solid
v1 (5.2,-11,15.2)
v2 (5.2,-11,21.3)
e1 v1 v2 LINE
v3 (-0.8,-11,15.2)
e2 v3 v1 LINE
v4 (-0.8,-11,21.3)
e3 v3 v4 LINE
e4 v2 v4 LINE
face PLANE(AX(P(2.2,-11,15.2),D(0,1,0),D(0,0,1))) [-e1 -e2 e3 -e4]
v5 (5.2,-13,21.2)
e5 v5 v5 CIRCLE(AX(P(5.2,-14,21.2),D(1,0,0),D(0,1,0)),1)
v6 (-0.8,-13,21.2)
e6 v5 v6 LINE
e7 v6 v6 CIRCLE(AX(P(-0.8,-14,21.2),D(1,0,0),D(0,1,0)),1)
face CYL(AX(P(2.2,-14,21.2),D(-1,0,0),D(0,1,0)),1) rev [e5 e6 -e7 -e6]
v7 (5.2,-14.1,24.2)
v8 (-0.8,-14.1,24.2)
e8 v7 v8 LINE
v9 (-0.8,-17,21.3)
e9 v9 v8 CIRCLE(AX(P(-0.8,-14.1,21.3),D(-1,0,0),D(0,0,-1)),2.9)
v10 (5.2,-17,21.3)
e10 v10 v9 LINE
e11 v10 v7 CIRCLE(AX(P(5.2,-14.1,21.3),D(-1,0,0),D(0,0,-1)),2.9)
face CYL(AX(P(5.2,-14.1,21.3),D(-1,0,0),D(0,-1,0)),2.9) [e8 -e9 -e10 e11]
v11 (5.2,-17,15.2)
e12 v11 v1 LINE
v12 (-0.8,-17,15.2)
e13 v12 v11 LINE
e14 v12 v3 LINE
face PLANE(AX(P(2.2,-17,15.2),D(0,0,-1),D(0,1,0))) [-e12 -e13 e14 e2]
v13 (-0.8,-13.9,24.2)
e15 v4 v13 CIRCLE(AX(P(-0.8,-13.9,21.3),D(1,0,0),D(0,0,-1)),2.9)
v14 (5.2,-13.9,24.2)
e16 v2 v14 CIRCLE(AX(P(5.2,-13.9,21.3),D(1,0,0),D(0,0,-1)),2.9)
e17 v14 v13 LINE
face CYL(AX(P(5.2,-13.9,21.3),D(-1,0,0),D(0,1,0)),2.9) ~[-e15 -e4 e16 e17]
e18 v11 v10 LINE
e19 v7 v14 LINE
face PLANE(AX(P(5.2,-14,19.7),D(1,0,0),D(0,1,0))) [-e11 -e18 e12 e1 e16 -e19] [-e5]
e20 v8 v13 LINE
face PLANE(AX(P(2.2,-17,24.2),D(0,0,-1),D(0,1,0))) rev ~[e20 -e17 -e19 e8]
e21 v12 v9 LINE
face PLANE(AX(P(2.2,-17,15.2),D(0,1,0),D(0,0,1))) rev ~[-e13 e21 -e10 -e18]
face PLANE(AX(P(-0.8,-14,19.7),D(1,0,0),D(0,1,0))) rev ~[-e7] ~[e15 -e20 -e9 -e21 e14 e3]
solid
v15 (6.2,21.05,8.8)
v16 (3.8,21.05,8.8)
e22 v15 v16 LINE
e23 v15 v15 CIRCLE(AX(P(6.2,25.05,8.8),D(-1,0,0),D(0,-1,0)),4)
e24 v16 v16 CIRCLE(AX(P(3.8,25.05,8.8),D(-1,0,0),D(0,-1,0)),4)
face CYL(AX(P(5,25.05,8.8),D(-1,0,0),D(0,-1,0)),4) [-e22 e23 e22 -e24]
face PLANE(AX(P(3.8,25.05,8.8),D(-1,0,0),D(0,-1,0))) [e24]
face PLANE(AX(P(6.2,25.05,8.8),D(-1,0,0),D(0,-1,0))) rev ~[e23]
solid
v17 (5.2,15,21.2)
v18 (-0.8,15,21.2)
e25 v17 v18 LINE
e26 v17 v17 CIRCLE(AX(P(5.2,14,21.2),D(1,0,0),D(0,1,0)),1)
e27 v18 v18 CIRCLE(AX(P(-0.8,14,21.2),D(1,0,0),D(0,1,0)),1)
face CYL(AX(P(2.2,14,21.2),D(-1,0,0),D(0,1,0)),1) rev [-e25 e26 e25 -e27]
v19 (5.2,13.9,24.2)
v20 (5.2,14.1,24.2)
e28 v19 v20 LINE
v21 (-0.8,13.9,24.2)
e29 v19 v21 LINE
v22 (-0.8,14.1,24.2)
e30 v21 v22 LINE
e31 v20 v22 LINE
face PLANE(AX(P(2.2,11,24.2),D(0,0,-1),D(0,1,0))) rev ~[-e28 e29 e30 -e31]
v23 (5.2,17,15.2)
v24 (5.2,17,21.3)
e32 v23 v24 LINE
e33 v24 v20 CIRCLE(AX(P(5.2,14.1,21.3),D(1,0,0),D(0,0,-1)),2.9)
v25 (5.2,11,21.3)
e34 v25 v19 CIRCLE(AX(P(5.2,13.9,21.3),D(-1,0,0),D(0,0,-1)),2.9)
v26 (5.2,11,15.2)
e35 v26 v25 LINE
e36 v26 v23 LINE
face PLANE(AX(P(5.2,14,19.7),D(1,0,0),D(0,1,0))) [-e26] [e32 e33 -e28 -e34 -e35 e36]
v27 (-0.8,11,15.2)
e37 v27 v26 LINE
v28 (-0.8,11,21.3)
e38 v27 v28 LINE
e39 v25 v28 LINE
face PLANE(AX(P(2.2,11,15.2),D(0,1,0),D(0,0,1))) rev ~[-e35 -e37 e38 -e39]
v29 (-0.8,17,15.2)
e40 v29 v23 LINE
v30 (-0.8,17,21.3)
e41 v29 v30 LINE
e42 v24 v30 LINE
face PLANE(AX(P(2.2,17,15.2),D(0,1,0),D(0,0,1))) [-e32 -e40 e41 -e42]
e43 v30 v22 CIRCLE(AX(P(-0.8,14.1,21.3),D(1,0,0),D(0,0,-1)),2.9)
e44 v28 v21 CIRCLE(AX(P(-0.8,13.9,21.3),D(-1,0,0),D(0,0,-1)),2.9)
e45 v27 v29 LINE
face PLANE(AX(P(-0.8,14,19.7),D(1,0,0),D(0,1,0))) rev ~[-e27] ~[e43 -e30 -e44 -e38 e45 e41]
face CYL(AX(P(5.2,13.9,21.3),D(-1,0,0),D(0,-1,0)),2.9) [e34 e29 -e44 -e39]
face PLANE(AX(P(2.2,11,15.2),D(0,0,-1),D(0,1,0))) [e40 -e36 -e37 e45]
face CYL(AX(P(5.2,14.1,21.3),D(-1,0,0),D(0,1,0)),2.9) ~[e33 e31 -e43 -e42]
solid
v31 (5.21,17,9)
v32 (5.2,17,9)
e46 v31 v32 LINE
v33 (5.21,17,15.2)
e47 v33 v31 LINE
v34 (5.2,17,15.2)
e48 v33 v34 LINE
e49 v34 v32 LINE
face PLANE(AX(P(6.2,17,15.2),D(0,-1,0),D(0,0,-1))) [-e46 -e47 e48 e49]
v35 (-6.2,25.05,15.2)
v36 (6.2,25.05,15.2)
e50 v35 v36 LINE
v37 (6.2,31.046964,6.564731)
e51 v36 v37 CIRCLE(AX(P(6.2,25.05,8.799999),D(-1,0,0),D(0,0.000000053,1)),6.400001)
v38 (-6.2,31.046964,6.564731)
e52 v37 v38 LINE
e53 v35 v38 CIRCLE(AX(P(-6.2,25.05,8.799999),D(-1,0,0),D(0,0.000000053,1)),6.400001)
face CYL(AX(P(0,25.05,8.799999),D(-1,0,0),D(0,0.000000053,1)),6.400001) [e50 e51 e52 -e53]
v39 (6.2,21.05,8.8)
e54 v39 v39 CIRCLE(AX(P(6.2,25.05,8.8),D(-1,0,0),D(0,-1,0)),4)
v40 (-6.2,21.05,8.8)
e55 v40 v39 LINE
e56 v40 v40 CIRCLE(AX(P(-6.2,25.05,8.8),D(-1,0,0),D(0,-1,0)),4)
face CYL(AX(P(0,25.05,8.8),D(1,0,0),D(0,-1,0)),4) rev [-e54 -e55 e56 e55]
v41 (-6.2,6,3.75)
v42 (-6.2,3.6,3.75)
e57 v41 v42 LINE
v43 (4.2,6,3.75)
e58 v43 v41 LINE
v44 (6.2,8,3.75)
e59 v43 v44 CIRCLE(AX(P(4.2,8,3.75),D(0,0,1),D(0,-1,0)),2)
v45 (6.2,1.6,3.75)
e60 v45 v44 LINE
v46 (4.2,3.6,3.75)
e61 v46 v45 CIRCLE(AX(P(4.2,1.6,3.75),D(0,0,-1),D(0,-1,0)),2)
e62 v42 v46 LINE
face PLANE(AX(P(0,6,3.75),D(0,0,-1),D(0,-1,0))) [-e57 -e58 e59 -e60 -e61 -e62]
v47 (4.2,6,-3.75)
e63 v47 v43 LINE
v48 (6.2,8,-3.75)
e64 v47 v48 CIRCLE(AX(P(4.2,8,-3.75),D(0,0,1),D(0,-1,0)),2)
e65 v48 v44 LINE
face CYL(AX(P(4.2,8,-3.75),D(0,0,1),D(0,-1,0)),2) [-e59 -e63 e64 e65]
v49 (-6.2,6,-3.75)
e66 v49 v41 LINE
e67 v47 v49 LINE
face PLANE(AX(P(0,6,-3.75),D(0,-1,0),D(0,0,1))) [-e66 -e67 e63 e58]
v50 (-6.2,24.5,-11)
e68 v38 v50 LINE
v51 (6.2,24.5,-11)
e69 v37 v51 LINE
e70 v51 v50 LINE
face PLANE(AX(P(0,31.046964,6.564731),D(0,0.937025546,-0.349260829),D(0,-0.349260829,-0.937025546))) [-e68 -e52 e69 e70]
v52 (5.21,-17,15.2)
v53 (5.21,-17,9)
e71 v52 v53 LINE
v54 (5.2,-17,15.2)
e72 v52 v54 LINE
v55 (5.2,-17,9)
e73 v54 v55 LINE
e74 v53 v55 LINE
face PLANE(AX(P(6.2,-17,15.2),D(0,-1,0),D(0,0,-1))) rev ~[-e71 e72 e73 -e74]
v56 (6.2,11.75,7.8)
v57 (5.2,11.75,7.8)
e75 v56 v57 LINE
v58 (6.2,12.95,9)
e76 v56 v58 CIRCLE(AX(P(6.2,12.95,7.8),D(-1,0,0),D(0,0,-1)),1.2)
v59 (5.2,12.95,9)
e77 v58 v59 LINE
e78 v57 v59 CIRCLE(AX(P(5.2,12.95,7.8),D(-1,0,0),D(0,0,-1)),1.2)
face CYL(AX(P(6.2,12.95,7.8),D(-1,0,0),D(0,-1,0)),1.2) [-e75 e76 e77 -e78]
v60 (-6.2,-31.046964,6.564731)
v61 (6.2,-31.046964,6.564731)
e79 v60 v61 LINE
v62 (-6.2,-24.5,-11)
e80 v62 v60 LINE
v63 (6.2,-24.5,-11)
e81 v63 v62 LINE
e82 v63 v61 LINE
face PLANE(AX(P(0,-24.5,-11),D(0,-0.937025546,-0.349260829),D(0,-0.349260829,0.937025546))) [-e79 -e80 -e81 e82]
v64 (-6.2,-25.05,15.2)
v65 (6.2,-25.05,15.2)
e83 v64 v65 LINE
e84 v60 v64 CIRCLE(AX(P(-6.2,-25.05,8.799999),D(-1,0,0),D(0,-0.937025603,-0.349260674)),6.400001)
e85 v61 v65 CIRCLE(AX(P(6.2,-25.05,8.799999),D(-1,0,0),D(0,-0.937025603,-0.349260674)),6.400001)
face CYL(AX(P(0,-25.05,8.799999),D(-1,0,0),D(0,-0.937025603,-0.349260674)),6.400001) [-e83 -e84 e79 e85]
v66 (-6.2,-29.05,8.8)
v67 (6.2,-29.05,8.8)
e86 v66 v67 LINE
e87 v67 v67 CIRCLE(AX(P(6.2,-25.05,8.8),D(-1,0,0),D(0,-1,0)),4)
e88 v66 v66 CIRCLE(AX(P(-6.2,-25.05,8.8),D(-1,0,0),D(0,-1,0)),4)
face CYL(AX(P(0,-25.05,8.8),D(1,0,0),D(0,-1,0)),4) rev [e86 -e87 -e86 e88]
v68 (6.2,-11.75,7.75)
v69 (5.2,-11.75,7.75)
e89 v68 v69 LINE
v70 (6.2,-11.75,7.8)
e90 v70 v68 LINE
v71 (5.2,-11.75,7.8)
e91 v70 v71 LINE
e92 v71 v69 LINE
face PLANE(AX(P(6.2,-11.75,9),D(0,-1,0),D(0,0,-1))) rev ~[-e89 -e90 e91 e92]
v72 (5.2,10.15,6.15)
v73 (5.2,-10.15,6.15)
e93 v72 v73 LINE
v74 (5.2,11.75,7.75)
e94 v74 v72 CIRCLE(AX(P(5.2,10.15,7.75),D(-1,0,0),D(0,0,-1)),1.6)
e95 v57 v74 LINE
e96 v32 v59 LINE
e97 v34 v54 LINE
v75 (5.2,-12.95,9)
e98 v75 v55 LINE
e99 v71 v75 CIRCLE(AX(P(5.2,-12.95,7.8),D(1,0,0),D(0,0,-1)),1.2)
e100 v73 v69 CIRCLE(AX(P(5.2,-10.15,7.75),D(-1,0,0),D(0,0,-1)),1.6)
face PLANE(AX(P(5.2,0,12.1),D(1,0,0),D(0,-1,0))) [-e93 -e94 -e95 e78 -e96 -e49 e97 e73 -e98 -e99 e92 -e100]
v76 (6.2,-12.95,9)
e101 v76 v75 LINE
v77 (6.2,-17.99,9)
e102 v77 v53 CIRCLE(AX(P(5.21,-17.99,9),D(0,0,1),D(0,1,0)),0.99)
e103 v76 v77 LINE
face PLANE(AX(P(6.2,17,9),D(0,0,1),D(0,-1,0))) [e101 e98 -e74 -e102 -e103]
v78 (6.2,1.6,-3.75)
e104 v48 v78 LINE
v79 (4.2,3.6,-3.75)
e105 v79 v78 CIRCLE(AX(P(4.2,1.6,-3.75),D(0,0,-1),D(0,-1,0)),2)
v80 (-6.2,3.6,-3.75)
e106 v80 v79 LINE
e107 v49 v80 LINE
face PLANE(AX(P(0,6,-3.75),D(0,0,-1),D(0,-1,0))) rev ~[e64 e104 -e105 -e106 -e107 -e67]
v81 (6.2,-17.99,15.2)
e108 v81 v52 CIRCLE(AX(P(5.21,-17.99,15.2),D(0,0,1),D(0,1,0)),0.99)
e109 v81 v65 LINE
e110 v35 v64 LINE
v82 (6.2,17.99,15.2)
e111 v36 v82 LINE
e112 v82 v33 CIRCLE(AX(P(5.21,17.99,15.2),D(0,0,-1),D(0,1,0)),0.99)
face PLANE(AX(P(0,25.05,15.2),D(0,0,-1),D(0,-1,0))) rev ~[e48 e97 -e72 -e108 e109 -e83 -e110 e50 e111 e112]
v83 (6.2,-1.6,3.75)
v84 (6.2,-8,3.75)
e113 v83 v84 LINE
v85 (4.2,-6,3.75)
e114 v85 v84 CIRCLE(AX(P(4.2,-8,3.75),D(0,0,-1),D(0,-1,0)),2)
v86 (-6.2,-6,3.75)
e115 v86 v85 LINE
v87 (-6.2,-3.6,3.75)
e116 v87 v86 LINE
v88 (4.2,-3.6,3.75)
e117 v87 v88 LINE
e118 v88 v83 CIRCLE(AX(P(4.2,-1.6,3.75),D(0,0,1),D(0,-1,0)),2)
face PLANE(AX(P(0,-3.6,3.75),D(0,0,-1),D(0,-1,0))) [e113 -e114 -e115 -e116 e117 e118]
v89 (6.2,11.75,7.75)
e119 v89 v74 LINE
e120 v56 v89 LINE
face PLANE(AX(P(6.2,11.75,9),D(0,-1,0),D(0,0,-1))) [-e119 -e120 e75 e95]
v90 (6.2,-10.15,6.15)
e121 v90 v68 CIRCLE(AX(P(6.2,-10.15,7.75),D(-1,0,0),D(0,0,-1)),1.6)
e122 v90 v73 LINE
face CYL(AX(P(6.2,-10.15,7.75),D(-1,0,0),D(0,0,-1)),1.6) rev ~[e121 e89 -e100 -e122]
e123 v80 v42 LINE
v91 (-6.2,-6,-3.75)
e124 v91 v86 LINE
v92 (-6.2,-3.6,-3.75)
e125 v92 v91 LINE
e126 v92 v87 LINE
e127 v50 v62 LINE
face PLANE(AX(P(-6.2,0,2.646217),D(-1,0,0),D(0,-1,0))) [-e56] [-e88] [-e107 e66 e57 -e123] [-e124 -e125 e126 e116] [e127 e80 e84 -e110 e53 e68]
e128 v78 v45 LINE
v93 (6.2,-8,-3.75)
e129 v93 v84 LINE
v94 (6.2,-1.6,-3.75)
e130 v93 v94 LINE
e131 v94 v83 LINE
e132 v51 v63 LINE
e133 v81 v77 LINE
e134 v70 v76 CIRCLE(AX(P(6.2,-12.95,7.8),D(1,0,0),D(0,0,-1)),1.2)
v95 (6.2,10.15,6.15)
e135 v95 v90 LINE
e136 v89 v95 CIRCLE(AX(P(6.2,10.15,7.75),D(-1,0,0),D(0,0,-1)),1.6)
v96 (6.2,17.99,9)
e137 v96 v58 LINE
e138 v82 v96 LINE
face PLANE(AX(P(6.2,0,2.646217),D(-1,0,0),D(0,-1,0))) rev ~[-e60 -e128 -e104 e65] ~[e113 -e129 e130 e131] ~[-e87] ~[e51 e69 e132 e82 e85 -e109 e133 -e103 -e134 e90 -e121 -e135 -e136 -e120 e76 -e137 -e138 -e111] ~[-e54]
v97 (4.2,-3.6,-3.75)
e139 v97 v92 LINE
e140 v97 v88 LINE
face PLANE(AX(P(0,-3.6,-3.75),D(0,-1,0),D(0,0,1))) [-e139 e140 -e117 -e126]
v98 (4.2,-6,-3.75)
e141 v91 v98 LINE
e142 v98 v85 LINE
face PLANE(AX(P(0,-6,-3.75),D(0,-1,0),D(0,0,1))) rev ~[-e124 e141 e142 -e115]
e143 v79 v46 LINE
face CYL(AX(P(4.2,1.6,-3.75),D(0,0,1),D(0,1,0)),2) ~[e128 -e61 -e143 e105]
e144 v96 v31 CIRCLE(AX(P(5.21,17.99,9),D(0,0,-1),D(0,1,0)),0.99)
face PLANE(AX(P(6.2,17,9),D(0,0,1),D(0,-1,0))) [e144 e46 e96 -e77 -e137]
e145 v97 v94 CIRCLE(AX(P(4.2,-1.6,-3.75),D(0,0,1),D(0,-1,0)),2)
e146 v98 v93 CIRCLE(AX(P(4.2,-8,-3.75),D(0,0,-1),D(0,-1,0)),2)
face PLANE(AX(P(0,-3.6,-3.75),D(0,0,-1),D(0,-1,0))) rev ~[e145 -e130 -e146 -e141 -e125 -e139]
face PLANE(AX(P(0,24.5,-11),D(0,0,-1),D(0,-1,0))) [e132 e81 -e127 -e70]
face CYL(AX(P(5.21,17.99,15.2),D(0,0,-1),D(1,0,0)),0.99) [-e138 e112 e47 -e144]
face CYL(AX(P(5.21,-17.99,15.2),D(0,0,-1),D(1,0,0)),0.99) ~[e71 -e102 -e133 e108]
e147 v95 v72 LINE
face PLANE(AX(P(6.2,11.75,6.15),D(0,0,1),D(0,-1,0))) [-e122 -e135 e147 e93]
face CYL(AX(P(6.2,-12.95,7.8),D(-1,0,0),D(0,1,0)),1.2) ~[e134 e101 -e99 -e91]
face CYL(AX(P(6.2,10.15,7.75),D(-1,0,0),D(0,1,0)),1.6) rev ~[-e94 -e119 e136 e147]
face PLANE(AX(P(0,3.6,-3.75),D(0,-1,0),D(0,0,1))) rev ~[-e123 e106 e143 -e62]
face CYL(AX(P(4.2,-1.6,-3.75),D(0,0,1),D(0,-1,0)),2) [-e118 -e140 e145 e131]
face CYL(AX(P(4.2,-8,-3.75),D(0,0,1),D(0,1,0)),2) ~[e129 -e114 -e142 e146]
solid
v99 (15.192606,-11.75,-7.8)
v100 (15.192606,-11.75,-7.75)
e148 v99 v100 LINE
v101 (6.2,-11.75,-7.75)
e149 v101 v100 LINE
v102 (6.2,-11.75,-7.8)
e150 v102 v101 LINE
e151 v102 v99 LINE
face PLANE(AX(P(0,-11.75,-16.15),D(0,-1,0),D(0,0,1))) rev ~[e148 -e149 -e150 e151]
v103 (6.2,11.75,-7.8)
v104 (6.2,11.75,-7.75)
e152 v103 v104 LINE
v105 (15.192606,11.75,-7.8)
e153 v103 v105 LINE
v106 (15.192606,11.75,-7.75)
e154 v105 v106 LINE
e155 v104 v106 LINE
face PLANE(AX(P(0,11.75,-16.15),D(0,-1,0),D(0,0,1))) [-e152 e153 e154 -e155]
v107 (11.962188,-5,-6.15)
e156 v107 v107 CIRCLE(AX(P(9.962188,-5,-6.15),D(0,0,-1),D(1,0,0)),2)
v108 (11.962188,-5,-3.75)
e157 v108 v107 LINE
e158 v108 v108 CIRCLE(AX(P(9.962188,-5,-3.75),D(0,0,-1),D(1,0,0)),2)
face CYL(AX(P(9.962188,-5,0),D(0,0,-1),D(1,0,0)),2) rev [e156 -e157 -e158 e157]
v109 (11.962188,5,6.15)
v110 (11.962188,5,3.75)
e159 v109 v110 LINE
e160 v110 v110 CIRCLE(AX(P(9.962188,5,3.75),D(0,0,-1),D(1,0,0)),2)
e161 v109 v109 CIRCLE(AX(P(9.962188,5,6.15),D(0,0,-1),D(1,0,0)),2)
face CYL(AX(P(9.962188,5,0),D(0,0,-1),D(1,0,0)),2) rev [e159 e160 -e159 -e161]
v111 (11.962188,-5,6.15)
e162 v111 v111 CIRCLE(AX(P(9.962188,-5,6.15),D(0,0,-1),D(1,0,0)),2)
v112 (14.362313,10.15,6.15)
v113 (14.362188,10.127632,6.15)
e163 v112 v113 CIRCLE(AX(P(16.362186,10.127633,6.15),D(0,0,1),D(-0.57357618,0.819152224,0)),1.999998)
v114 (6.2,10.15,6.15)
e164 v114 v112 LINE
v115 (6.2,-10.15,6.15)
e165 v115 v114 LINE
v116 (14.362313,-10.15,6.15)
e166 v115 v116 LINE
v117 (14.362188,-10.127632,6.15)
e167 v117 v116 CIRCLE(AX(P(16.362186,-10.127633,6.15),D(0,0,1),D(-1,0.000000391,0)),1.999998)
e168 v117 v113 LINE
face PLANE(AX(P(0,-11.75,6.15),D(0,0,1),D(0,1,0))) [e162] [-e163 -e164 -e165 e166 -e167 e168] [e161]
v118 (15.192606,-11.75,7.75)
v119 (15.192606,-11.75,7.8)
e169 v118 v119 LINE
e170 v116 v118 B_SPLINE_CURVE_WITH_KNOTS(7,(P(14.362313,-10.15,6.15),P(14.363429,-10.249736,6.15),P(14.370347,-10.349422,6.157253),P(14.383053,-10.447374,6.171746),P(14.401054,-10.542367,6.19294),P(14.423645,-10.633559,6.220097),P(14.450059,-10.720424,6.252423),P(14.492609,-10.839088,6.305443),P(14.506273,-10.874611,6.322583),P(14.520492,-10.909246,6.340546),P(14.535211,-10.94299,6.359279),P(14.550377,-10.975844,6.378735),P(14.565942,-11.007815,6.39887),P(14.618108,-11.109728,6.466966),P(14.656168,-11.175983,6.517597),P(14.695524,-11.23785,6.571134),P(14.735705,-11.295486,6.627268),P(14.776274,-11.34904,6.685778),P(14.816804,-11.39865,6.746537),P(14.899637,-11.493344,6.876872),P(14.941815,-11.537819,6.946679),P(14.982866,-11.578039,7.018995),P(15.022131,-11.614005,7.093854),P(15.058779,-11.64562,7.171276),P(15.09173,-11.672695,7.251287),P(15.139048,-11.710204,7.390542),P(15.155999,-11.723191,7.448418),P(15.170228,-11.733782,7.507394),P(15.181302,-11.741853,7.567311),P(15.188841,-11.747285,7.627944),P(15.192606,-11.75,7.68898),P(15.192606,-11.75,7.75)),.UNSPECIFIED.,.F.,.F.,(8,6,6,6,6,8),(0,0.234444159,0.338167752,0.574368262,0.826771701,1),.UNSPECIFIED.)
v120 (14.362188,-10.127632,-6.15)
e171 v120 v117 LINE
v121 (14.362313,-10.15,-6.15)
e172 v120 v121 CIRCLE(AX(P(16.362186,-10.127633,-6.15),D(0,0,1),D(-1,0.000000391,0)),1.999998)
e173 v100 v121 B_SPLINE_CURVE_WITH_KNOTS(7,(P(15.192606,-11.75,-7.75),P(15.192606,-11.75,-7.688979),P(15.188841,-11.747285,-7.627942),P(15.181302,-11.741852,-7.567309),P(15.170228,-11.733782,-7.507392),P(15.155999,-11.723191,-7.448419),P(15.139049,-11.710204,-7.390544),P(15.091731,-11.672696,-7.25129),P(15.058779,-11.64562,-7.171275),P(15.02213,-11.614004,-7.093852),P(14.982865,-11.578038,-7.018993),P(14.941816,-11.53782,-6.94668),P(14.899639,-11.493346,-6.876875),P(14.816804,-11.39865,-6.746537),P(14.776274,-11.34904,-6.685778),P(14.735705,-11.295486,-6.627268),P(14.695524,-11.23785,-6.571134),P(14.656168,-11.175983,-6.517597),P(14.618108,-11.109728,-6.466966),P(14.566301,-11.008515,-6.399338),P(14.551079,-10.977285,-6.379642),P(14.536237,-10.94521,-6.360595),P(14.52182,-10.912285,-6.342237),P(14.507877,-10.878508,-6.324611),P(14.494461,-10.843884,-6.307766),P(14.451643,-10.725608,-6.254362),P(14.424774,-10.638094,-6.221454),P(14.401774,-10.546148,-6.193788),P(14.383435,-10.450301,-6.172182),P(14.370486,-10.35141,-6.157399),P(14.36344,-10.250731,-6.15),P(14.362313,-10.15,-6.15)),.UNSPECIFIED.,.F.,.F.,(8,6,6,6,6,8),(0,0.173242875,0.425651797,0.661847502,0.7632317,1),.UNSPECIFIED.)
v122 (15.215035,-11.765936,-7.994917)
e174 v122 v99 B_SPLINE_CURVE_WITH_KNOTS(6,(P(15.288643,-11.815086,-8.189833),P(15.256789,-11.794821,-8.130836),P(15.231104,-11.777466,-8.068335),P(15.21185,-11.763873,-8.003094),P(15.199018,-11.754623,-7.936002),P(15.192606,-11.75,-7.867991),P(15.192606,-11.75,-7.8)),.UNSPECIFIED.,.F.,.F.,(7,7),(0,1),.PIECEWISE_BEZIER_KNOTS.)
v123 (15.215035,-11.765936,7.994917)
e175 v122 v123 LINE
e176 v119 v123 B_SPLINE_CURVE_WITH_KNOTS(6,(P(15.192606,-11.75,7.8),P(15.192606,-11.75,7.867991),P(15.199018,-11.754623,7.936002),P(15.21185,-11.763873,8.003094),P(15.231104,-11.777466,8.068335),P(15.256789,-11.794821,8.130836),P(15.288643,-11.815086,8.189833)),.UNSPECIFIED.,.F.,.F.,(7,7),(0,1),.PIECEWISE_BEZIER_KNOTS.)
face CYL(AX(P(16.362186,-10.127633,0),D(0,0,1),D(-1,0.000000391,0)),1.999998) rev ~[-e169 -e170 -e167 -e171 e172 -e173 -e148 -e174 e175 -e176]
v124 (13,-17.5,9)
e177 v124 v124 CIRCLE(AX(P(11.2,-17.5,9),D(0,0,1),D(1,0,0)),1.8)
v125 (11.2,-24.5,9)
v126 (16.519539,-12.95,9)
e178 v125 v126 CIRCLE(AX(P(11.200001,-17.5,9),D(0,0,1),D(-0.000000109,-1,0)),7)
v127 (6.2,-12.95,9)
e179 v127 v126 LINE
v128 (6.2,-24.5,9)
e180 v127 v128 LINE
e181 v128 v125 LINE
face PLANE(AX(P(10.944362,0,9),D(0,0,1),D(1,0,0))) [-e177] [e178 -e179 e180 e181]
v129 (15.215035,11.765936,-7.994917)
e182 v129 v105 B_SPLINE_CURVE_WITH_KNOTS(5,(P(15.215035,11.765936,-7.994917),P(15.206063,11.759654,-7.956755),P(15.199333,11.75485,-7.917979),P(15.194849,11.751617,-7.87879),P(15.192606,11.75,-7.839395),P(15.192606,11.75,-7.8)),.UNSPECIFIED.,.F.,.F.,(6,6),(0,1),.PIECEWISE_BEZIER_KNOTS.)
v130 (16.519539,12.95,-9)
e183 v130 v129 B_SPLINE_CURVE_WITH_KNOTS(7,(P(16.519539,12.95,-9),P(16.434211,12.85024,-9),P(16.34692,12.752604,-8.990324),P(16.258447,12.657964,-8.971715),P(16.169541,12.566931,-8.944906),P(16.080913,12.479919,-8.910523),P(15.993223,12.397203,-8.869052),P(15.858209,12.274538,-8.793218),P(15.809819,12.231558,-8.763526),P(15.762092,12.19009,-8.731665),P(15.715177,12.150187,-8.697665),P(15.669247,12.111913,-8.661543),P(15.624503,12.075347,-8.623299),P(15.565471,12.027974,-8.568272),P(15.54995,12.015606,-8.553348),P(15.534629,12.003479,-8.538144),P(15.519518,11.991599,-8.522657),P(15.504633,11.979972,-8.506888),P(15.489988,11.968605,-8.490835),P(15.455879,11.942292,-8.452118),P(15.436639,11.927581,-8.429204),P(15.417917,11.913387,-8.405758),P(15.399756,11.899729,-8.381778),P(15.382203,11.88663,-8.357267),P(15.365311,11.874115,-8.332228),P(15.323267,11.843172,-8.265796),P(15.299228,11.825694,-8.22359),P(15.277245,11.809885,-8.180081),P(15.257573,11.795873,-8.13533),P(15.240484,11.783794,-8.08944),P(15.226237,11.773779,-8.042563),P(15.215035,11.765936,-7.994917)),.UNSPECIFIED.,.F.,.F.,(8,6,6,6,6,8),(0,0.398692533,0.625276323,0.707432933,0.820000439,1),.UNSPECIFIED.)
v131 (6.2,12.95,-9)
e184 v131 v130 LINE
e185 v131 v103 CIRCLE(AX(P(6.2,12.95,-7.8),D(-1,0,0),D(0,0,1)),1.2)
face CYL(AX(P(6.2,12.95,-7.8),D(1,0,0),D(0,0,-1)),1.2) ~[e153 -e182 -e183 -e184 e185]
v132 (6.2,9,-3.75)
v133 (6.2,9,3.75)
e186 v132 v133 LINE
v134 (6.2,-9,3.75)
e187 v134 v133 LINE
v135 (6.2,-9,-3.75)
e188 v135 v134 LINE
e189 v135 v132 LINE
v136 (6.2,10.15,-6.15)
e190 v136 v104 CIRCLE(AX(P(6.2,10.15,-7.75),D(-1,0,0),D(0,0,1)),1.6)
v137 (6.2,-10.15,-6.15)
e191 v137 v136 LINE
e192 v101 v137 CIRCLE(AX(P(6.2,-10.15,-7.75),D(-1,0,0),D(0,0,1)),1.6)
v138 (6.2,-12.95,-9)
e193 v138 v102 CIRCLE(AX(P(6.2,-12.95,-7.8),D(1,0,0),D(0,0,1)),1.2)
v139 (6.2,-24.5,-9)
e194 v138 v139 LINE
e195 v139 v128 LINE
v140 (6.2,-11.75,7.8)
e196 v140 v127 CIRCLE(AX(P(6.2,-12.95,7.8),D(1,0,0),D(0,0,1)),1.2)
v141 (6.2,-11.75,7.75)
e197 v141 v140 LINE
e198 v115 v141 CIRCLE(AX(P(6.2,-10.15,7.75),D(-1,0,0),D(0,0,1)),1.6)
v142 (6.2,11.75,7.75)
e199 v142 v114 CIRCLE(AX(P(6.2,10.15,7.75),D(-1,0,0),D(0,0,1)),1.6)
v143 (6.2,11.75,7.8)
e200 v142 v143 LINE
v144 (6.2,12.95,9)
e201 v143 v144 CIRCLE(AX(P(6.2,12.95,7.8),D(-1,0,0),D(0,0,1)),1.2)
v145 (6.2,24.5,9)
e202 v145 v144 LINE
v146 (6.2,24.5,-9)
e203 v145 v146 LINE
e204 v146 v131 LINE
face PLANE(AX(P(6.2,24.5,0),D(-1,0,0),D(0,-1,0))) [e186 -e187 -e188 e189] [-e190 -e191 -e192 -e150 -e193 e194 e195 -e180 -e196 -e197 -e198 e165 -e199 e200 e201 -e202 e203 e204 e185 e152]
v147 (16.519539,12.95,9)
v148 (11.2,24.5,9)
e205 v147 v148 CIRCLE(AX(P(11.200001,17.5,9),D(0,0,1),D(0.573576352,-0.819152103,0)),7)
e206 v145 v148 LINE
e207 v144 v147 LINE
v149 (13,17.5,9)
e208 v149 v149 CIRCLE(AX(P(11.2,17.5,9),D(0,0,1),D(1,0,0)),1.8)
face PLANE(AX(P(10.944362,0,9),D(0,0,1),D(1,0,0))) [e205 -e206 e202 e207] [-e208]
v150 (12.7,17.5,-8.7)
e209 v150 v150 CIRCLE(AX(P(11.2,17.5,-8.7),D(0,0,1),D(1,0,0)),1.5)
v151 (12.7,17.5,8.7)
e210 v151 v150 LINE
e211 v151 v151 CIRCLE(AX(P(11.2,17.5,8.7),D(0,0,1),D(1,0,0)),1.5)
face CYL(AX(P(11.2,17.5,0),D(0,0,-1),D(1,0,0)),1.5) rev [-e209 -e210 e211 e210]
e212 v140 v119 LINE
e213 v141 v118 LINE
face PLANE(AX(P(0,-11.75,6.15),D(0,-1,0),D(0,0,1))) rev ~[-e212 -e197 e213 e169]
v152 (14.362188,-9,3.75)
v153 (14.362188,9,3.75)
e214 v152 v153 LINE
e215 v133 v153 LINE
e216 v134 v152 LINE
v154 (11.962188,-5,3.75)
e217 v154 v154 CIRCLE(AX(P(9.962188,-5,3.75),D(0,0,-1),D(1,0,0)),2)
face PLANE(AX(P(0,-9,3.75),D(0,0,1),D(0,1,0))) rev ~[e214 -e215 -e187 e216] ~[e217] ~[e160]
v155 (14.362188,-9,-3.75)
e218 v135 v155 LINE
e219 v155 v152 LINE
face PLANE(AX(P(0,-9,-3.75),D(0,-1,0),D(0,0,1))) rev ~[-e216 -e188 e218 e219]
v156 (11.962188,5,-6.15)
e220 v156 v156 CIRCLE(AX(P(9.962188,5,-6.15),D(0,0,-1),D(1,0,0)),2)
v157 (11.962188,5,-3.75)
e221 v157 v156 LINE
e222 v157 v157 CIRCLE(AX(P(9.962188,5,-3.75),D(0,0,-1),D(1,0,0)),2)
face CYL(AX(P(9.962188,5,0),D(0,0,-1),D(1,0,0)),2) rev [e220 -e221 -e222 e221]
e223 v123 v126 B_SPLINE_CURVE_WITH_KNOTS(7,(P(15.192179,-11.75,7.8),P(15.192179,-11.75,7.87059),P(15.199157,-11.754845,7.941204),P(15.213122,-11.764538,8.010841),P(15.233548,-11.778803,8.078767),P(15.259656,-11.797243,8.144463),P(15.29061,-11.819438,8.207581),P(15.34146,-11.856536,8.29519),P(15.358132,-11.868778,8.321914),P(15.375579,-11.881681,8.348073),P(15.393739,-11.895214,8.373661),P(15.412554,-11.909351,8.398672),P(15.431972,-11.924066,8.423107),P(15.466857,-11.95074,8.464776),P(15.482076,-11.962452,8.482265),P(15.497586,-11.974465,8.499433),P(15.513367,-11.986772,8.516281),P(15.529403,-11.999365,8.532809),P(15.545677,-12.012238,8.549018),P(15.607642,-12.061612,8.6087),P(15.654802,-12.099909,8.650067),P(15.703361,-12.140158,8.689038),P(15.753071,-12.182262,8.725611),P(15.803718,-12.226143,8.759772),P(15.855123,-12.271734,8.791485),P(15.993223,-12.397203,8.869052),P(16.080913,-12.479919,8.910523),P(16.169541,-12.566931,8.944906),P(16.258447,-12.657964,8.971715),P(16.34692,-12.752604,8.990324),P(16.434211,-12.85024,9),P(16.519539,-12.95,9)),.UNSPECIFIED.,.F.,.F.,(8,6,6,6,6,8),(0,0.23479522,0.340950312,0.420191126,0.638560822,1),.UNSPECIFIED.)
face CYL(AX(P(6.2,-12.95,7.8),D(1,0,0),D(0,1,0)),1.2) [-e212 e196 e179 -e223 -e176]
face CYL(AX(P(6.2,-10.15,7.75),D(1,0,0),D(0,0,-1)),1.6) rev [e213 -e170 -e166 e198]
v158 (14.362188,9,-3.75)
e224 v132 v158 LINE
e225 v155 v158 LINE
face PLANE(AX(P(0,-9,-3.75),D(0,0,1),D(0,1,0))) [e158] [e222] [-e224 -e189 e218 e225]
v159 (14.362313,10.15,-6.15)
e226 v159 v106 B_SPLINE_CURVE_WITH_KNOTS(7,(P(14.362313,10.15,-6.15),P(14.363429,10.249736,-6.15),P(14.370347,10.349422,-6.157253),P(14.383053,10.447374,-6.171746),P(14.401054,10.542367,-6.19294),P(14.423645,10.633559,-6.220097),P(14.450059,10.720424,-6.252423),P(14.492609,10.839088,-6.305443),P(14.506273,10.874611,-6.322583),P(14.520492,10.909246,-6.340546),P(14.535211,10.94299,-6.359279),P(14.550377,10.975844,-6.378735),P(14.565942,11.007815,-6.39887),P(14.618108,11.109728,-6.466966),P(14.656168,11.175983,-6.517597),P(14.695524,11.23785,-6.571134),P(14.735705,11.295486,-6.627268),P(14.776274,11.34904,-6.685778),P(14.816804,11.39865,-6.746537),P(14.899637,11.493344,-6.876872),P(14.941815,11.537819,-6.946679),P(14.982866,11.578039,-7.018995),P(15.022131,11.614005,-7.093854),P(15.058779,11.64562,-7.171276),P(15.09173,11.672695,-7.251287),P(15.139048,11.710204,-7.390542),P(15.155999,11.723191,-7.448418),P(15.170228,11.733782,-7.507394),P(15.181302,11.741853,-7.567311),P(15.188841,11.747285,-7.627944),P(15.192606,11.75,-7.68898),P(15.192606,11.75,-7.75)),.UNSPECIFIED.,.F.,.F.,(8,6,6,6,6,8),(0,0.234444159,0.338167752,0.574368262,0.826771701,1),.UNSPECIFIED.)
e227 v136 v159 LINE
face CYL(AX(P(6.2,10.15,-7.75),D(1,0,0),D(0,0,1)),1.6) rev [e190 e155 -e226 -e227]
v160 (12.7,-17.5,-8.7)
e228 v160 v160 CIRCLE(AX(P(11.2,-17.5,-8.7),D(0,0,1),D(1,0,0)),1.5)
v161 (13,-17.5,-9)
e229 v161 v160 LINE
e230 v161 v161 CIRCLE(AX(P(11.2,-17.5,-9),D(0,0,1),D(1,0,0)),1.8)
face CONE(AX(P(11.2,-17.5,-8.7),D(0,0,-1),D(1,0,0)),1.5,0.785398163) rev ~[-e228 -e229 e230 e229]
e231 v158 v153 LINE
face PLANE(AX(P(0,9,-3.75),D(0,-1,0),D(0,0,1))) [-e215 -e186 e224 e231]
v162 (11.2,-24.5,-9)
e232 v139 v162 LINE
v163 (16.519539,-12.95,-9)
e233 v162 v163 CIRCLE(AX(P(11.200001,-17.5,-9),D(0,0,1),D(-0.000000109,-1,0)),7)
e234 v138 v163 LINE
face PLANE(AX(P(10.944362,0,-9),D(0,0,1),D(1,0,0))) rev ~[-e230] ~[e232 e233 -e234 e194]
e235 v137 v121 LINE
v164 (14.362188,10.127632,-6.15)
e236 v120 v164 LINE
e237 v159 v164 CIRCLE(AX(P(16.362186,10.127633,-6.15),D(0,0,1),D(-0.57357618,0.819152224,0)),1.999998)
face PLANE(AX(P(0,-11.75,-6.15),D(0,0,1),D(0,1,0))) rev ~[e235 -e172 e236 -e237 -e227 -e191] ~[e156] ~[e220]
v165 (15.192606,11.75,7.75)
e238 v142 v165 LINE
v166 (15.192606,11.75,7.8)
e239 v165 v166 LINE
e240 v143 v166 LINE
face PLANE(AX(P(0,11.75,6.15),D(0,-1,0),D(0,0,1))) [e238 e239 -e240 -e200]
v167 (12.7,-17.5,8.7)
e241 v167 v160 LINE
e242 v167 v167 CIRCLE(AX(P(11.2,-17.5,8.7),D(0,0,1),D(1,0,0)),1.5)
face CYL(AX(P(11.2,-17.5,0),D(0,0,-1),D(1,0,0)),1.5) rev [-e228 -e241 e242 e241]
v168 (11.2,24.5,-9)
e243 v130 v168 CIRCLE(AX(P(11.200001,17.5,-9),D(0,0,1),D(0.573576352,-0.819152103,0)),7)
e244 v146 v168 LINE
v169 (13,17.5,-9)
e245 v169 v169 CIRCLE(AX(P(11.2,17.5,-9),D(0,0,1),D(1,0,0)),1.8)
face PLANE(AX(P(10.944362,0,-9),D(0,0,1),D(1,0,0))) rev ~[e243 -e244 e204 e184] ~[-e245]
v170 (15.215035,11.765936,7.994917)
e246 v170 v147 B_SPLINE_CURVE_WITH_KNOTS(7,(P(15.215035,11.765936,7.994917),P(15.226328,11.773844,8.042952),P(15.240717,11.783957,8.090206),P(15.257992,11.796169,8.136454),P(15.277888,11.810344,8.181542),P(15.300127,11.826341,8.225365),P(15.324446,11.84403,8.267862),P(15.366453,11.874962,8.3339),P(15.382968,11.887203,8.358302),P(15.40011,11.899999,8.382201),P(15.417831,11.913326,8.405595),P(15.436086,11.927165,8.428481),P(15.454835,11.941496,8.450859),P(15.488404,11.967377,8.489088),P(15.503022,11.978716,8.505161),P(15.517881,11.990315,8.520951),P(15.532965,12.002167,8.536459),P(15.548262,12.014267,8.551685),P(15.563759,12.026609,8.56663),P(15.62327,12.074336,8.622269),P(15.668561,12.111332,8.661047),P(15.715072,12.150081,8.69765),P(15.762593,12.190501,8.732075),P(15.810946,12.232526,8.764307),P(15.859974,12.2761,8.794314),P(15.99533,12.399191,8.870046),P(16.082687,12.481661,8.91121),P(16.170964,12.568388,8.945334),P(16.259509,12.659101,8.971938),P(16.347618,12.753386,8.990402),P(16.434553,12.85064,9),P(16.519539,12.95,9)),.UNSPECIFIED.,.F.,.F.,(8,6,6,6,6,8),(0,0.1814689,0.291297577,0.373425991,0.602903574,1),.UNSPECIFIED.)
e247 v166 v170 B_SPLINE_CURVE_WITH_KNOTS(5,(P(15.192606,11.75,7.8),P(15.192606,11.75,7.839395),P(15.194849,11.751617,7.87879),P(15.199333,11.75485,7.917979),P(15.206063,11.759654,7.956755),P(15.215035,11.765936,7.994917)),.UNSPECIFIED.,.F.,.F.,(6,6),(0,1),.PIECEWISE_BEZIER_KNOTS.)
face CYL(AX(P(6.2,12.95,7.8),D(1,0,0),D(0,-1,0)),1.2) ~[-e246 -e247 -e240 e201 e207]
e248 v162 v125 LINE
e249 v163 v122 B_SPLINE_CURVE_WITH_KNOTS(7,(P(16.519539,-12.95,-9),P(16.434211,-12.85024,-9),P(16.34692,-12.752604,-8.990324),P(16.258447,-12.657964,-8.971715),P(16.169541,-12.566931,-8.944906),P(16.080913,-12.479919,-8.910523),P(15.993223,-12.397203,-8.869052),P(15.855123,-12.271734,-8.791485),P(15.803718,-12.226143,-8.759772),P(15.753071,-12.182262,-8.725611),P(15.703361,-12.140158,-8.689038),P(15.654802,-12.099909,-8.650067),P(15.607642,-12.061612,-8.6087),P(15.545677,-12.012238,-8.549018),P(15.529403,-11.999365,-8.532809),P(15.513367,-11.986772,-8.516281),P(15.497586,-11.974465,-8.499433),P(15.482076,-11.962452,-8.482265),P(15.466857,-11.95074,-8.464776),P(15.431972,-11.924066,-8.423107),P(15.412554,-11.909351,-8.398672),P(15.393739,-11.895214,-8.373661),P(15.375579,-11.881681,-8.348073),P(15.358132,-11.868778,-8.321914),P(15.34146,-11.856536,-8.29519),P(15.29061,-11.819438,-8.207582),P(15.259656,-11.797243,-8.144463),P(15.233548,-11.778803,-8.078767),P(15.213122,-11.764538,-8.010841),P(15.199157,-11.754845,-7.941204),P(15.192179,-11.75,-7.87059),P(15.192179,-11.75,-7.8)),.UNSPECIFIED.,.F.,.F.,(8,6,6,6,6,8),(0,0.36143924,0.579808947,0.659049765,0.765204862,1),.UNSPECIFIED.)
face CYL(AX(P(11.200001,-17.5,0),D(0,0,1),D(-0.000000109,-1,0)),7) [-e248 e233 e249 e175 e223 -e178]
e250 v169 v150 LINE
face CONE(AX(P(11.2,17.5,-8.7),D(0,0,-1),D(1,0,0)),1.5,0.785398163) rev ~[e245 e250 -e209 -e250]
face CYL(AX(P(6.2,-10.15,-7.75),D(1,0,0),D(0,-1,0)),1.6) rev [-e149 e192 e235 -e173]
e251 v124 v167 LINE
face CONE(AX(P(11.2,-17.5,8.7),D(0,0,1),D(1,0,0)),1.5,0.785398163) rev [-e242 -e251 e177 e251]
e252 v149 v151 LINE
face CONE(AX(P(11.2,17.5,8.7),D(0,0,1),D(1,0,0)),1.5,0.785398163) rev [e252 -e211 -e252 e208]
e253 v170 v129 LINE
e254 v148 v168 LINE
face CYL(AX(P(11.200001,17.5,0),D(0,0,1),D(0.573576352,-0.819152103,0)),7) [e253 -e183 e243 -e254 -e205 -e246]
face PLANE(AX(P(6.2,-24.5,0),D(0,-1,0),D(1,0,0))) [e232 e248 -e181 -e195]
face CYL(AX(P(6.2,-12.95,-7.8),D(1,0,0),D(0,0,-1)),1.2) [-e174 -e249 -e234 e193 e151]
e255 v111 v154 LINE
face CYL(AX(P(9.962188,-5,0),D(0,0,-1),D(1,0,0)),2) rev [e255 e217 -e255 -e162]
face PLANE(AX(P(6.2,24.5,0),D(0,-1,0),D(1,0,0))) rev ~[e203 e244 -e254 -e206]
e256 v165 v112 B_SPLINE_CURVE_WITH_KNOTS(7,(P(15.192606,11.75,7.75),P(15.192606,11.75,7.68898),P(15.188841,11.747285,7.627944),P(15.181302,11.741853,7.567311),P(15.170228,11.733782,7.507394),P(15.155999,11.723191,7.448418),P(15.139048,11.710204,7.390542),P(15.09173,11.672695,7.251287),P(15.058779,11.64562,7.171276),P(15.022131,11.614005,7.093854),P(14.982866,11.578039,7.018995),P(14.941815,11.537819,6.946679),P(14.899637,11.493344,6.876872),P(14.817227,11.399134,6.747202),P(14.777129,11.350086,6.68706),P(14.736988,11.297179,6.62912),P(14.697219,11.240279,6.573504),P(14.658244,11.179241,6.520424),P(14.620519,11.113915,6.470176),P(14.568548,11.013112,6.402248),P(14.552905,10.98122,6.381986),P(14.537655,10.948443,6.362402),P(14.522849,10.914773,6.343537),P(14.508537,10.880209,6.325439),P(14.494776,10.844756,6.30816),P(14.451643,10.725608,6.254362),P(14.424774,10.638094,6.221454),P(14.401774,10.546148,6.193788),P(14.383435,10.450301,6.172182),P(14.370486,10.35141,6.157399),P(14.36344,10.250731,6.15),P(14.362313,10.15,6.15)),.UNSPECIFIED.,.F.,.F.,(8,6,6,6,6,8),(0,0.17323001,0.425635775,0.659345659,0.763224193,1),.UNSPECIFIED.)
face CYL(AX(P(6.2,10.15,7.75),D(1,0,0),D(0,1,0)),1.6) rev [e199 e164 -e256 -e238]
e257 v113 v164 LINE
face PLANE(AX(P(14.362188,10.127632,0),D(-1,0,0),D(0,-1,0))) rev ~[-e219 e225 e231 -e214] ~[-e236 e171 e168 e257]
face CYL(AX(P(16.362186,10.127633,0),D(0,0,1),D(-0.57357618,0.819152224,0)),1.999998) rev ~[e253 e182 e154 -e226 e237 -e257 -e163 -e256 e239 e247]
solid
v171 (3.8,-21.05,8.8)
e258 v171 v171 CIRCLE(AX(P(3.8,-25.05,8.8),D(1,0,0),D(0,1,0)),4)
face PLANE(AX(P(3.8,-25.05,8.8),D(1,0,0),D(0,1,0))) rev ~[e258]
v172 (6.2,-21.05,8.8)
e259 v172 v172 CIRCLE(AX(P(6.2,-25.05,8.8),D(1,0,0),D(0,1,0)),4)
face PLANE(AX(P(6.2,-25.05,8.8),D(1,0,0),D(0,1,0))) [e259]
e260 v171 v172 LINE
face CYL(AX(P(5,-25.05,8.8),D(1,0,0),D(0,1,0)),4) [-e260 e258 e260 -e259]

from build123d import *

# Parameters (mm, degrees)
SKETCH019_R             = 4
SKETCH019_W             = 2.4
SKETCH019_H             = 7.5
PAD006_DEPTH            = 6.2
FILLET_R                = 2
SKETCH027_W             = 34
SKETCH027_H             = 6.2
POCKET003_DEPTH         = 1
FILLET005_R             = 0.99
SKETCH028_W             = 23.5
SKETCH028_H             = 2.85
POCKET004_DEPTH         = 1
FILLET006_R             = 1.6
FILLET007_R             = 1.2
SKETCH020_R             = 4
PAD_DEPTH               = 1.2
SKETCH021_R             = 4
PAD007_DEPTH            = 1.2
BODY003_PLACEMENT_ANGLE = 180
SKETCH_R                = 1.5
SKETCH_R_2              = 2
PAD008_DEPTH            = 9
SKETCH022_W             = 18
SKETCH022_H             = 7.5
POCKET_DEPTH            = 0.001
POCKET_DEPTH_BACK       = -18.201
SKETCH023_W             = 23.5
SKETCH023_H             = 10
POCKET001_DEPTH         = 0.001
POCKET001_DEPTH_BACK    = -18.201
SKETCH024_W             = 23.5
SKETCH024_H             = 10
POCKET002_DEPTH         = 0.001
POCKET002_DEPTH_BACK    = -18.201
FILLET001_R             = 1.6
FILLET002_R             = 1.2
CHAMFER_SIZE            = 0.3
SKETCH025_W             = 6
SKETCH025_H             = 9
SKETCH025_R             = 1
PAD009_DEPTH            = 3
FILLET003_R             = 2.9
SKETCH026_W             = 6
SKETCH026_H             = 9
SKETCH026_R             = 1
PAD010_DEPTH            = 3
FILLET004_R             = 2.9


with BuildPart() as rodholder:
    # Sketch019 → Pad006 (new body, symmetric)
    with BuildSketch(Plane(origin=(0, 0, 0), x_dir=(0, -1, 0), z_dir=(-1, 0, 0))):
        with BuildLine():
            ThreePointArc((-25.05, 15.2), (-30.306697, 12.450635), (-31.046964, 6.564731))
            Line((-31.046964, 6.564731), (-24.5, -11))
            Line((-24.5, -11), (24.5, -11))
            Line((24.5, -11), (31.046964, 6.564731))
            ThreePointArc((31.046964, 6.564731), (30.306697, 12.450635), (25.05, 15.2))
            Line((-25.05, 15.2), (25.05, 15.2))
        make_face()
        with Locations((25.05, 8.8)):
            Circle(SKETCH019_R, mode=Mode.SUBTRACT)
        with Locations((-25.05, 8.8)):
            Circle(SKETCH019_R, mode=Mode.SUBTRACT)
        with Locations((-4.8, 0)):
            Rectangle(SKETCH019_W, SKETCH019_H, mode=Mode.SUBTRACT)
        with Locations((4.8, 0)):
            Rectangle(SKETCH019_W, SKETCH019_H, mode=Mode.SUBTRACT)
    extrude(amount=PAD006_DEPTH, both=True)

    # Fillet
    fillet_edges = [rodholder.edges().sort_by_distance(p)[0] for p in [
        (6.2, -6, 0),
        (6.2, -3.6, 0),
        (6.2, 3.6, 0),
        (6.2, 6, 0),
    ]]
    fillet(fillet_edges, radius=FILLET_R)

    # Sketch027 (on Face5 of Fillet) → Pocket003 (cut)
    with BuildSketch(Plane(origin=(6.2, 0, 0), x_dir=(0, -1, 0), z_dir=(1, 0, 0))):
        with Locations((0, -12.1)):
            Rectangle(SKETCH027_W, SKETCH027_H)
    extrude(amount=-POCKET003_DEPTH, mode=Mode.SUBTRACT)

    # Fillet005
    fillet005_edges = [rodholder.edges().sort_by_distance(p)[0] for p in [
        (6.2, -17, 12.1),
        (6.2, 17, 12.1),
    ]]
    fillet(fillet005_edges, radius=FILLET005_R)

    # Sketch028 (on Face1 of Fillet005) → Pocket004 (cut)
    with BuildSketch(Plane(origin=(6.2, 0, 0), x_dir=(0, -1, 0), z_dir=(1, 0, 0))):
        with Locations((0, -7.575)):
            Rectangle(SKETCH028_W, SKETCH028_H)
    extrude(amount=-POCKET004_DEPTH, mode=Mode.SUBTRACT)

    # Fillet006
    fillet006_edges = [rodholder.edges().sort_by_distance(p)[0] for p in [
        (5.7, -11.75, 6.15),
        (5.7, 11.75, 6.15),
    ]]
    fillet(fillet006_edges, radius=FILLET006_R)

    # Fillet007
    fillet007_edges = [rodholder.edges().sort_by_distance(p)[0] for p in [
        (5.7, -11.75, 9),
        (5.7, 11.75, 9),
    ]]
    fillet(fillet007_edges, radius=FILLET007_R)


with BuildPart() as rodcapleft:
    # Sketch020 → Pad (new body, symmetric)
    with BuildSketch(Plane.YZ):
        with Locations((-25.05, 8.8)):
            Circle(SKETCH020_R)
    extrude(amount=PAD_DEPTH, both=True)


with BuildPart() as rodcapleft_1:
    # Body placement: moved
    add(rodcapleft.part.moved(Location((5, 0, 0))))


with BuildPart() as rodcapright:
    # Sketch021 → Pad007 (new body, symmetric)
    with BuildSketch(Plane.YZ):
        with Locations((-25.05, 8.8)):
            Circle(SKETCH021_R)
    extrude(amount=PAD007_DEPTH, both=True)


with BuildPart() as rodcapright_1:
    # Body003 placement: moved
    add(rodcapright.part.moved(Location((5, 0, 0))).rotate(Axis((5, 0, 0), (0, 0, 1)), BODY003_PLACEMENT_ANGLE))


with BuildPart() as ebraket:
    # Sketch → Pad008 (new body, symmetric)
    with BuildSketch(Plane.XY):
        with BuildLine():
            Line((6.2, 24.5), (6.2, -24.5))
            Line((6.2, -24.5), (11.2, -24.5))
            ThreePointArc((11.2, -24.5), (17.876019, -19.604941), (15.215035, -11.765936))
            ThreePointArc((14.362188, -10.127632), (14.588166, -11.051129), (15.215035, -11.765936))
            Line((14.362188, 10.127632), (14.362188, -10.127632))
            ThreePointArc((15.215035, 11.765936), (14.588166, 11.051129), (14.362188, 10.127632))
            ThreePointArc((15.215035, 11.765936), (17.876019, 19.604941), (11.2, 24.5))
            Line((6.2, 24.5), (11.2, 24.5))
        make_face()
        with Locations((11.2, -17.5)):
            Circle(SKETCH_R, mode=Mode.SUBTRACT)
        with Locations((11.2, 17.5)):
            Circle(SKETCH_R, mode=Mode.SUBTRACT)
        with Locations((9.962188, 5)):
            Circle(SKETCH_R_2, mode=Mode.SUBTRACT)
        with Locations((9.962188, -5)):
            Circle(SKETCH_R_2, mode=Mode.SUBTRACT)
    extrude(amount=PAD008_DEPTH, both=True)

    # Sketch022 → Pocket (cut, two sides)
    with BuildSketch(Plane.YZ) as pocket_sk:
        Rectangle(SKETCH022_W, SKETCH022_H)
    extrude(amount=-POCKET_DEPTH, mode=Mode.SUBTRACT)
    extrude(pocket_sk.sketch, amount=-POCKET_DEPTH_BACK, mode=Mode.SUBTRACT)

    # Sketch023 → Pocket001 (cut, two sides)
    with BuildSketch(Plane.YZ) as pocket001_sk:
        with Locations((0, 11.15)):
            Rectangle(SKETCH023_W, SKETCH023_H)
    extrude(amount=-POCKET001_DEPTH, mode=Mode.SUBTRACT)
    extrude(pocket001_sk.sketch, amount=-POCKET001_DEPTH_BACK, mode=Mode.SUBTRACT)

    # Sketch024 → Pocket002 (cut, two sides)
    with BuildSketch(Plane.YZ) as pocket002_sk:
        with Locations((0, -11.15)):
            Rectangle(SKETCH024_W, SKETCH024_H)
    extrude(amount=-POCKET002_DEPTH, mode=Mode.SUBTRACT)
    extrude(pocket002_sk.sketch, amount=-POCKET002_DEPTH_BACK, mode=Mode.SUBTRACT)

    # Fillet001
    fillet001_edges = [ebraket.edges().sort_by_distance(p)[0] for p in [
        (10.696303, -11.75, 6.15),
        (10.696303, 11.75, 6.15),
        (10.696303, 11.75, -6.15),
        (10.696303, -11.75, -6.15),
    ]]
    fillet(fillet001_edges, radius=FILLET001_R)

    # Fillet002
    fillet002_edges = [ebraket.edges().sort_by_distance(p)[0] for p in [
        (10.696303, -11.75, 9),
        (10.696303, 11.75, 9),
        (10.696303, 11.75, -9),
        (10.696303, -11.75, -9),
    ]]
    fillet(fillet002_edges, radius=FILLET002_R)

    # Chamfer
    chamfer_edges = [ebraket.edges().sort_by_distance(p)[0] for p in [
        (9.7, -17.5, 9),
        (9.7, 17.5, 9),
        (9.7, -17.5, -9),
        (9.7, 17.5, -9),
    ]]
    chamfer(chamfer_edges, length=CHAMFER_SIZE)


with BuildPart() as leftmotormount:
    # Sketch025 → Pad009 (new body, symmetric)
    with BuildSketch(Plane.YZ):
        with Locations((-14, 19.7)):
            Rectangle(SKETCH025_W, SKETCH025_H)
        with Locations((-14, 21.2)):
            Circle(SKETCH025_R, mode=Mode.SUBTRACT)
    extrude(amount=PAD009_DEPTH, both=True)

    # Fillet003
    fillet003_edges = [leftmotormount.edges().sort_by_distance(p)[0] for p in [
        (0, -11, 24.2),
        (0, -17, 24.2),
    ]]
    fillet(fillet003_edges, radius=FILLET003_R)


with BuildPart() as leftmotormount_1:
    # Body005 placement: moved
    add(leftmotormount.part.moved(Location((2.2, 0, 0))))


with BuildPart() as rightservomount:
    # Sketch026 → Pad010 (new body, symmetric)
    with BuildSketch(Plane.YZ):
        with Locations((14, 19.7)):
            Rectangle(SKETCH026_W, SKETCH026_H)
        with Locations((14, 21.2)):
            Circle(SKETCH026_R, mode=Mode.SUBTRACT)
    extrude(amount=PAD010_DEPTH, both=True)

    # Fillet004
    fillet004_edges = [rightservomount.edges().sort_by_distance(p)[0] for p in [
        (0, 17, 24.2),
        (0, 11, 24.2),
    ]]
    fillet(fillet004_edges, radius=FILLET004_R)


with BuildPart() as rightservomount_1:
    # Body006 placement: moved
    add(rightservomount.part.moved(Location((2.2, 0, 0))))


solid = Compound([rodholder.part, rodcapleft_1.part, rodcapright_1.part, ebraket.part, leftmotormount_1.part, rightservomount_1.part])
